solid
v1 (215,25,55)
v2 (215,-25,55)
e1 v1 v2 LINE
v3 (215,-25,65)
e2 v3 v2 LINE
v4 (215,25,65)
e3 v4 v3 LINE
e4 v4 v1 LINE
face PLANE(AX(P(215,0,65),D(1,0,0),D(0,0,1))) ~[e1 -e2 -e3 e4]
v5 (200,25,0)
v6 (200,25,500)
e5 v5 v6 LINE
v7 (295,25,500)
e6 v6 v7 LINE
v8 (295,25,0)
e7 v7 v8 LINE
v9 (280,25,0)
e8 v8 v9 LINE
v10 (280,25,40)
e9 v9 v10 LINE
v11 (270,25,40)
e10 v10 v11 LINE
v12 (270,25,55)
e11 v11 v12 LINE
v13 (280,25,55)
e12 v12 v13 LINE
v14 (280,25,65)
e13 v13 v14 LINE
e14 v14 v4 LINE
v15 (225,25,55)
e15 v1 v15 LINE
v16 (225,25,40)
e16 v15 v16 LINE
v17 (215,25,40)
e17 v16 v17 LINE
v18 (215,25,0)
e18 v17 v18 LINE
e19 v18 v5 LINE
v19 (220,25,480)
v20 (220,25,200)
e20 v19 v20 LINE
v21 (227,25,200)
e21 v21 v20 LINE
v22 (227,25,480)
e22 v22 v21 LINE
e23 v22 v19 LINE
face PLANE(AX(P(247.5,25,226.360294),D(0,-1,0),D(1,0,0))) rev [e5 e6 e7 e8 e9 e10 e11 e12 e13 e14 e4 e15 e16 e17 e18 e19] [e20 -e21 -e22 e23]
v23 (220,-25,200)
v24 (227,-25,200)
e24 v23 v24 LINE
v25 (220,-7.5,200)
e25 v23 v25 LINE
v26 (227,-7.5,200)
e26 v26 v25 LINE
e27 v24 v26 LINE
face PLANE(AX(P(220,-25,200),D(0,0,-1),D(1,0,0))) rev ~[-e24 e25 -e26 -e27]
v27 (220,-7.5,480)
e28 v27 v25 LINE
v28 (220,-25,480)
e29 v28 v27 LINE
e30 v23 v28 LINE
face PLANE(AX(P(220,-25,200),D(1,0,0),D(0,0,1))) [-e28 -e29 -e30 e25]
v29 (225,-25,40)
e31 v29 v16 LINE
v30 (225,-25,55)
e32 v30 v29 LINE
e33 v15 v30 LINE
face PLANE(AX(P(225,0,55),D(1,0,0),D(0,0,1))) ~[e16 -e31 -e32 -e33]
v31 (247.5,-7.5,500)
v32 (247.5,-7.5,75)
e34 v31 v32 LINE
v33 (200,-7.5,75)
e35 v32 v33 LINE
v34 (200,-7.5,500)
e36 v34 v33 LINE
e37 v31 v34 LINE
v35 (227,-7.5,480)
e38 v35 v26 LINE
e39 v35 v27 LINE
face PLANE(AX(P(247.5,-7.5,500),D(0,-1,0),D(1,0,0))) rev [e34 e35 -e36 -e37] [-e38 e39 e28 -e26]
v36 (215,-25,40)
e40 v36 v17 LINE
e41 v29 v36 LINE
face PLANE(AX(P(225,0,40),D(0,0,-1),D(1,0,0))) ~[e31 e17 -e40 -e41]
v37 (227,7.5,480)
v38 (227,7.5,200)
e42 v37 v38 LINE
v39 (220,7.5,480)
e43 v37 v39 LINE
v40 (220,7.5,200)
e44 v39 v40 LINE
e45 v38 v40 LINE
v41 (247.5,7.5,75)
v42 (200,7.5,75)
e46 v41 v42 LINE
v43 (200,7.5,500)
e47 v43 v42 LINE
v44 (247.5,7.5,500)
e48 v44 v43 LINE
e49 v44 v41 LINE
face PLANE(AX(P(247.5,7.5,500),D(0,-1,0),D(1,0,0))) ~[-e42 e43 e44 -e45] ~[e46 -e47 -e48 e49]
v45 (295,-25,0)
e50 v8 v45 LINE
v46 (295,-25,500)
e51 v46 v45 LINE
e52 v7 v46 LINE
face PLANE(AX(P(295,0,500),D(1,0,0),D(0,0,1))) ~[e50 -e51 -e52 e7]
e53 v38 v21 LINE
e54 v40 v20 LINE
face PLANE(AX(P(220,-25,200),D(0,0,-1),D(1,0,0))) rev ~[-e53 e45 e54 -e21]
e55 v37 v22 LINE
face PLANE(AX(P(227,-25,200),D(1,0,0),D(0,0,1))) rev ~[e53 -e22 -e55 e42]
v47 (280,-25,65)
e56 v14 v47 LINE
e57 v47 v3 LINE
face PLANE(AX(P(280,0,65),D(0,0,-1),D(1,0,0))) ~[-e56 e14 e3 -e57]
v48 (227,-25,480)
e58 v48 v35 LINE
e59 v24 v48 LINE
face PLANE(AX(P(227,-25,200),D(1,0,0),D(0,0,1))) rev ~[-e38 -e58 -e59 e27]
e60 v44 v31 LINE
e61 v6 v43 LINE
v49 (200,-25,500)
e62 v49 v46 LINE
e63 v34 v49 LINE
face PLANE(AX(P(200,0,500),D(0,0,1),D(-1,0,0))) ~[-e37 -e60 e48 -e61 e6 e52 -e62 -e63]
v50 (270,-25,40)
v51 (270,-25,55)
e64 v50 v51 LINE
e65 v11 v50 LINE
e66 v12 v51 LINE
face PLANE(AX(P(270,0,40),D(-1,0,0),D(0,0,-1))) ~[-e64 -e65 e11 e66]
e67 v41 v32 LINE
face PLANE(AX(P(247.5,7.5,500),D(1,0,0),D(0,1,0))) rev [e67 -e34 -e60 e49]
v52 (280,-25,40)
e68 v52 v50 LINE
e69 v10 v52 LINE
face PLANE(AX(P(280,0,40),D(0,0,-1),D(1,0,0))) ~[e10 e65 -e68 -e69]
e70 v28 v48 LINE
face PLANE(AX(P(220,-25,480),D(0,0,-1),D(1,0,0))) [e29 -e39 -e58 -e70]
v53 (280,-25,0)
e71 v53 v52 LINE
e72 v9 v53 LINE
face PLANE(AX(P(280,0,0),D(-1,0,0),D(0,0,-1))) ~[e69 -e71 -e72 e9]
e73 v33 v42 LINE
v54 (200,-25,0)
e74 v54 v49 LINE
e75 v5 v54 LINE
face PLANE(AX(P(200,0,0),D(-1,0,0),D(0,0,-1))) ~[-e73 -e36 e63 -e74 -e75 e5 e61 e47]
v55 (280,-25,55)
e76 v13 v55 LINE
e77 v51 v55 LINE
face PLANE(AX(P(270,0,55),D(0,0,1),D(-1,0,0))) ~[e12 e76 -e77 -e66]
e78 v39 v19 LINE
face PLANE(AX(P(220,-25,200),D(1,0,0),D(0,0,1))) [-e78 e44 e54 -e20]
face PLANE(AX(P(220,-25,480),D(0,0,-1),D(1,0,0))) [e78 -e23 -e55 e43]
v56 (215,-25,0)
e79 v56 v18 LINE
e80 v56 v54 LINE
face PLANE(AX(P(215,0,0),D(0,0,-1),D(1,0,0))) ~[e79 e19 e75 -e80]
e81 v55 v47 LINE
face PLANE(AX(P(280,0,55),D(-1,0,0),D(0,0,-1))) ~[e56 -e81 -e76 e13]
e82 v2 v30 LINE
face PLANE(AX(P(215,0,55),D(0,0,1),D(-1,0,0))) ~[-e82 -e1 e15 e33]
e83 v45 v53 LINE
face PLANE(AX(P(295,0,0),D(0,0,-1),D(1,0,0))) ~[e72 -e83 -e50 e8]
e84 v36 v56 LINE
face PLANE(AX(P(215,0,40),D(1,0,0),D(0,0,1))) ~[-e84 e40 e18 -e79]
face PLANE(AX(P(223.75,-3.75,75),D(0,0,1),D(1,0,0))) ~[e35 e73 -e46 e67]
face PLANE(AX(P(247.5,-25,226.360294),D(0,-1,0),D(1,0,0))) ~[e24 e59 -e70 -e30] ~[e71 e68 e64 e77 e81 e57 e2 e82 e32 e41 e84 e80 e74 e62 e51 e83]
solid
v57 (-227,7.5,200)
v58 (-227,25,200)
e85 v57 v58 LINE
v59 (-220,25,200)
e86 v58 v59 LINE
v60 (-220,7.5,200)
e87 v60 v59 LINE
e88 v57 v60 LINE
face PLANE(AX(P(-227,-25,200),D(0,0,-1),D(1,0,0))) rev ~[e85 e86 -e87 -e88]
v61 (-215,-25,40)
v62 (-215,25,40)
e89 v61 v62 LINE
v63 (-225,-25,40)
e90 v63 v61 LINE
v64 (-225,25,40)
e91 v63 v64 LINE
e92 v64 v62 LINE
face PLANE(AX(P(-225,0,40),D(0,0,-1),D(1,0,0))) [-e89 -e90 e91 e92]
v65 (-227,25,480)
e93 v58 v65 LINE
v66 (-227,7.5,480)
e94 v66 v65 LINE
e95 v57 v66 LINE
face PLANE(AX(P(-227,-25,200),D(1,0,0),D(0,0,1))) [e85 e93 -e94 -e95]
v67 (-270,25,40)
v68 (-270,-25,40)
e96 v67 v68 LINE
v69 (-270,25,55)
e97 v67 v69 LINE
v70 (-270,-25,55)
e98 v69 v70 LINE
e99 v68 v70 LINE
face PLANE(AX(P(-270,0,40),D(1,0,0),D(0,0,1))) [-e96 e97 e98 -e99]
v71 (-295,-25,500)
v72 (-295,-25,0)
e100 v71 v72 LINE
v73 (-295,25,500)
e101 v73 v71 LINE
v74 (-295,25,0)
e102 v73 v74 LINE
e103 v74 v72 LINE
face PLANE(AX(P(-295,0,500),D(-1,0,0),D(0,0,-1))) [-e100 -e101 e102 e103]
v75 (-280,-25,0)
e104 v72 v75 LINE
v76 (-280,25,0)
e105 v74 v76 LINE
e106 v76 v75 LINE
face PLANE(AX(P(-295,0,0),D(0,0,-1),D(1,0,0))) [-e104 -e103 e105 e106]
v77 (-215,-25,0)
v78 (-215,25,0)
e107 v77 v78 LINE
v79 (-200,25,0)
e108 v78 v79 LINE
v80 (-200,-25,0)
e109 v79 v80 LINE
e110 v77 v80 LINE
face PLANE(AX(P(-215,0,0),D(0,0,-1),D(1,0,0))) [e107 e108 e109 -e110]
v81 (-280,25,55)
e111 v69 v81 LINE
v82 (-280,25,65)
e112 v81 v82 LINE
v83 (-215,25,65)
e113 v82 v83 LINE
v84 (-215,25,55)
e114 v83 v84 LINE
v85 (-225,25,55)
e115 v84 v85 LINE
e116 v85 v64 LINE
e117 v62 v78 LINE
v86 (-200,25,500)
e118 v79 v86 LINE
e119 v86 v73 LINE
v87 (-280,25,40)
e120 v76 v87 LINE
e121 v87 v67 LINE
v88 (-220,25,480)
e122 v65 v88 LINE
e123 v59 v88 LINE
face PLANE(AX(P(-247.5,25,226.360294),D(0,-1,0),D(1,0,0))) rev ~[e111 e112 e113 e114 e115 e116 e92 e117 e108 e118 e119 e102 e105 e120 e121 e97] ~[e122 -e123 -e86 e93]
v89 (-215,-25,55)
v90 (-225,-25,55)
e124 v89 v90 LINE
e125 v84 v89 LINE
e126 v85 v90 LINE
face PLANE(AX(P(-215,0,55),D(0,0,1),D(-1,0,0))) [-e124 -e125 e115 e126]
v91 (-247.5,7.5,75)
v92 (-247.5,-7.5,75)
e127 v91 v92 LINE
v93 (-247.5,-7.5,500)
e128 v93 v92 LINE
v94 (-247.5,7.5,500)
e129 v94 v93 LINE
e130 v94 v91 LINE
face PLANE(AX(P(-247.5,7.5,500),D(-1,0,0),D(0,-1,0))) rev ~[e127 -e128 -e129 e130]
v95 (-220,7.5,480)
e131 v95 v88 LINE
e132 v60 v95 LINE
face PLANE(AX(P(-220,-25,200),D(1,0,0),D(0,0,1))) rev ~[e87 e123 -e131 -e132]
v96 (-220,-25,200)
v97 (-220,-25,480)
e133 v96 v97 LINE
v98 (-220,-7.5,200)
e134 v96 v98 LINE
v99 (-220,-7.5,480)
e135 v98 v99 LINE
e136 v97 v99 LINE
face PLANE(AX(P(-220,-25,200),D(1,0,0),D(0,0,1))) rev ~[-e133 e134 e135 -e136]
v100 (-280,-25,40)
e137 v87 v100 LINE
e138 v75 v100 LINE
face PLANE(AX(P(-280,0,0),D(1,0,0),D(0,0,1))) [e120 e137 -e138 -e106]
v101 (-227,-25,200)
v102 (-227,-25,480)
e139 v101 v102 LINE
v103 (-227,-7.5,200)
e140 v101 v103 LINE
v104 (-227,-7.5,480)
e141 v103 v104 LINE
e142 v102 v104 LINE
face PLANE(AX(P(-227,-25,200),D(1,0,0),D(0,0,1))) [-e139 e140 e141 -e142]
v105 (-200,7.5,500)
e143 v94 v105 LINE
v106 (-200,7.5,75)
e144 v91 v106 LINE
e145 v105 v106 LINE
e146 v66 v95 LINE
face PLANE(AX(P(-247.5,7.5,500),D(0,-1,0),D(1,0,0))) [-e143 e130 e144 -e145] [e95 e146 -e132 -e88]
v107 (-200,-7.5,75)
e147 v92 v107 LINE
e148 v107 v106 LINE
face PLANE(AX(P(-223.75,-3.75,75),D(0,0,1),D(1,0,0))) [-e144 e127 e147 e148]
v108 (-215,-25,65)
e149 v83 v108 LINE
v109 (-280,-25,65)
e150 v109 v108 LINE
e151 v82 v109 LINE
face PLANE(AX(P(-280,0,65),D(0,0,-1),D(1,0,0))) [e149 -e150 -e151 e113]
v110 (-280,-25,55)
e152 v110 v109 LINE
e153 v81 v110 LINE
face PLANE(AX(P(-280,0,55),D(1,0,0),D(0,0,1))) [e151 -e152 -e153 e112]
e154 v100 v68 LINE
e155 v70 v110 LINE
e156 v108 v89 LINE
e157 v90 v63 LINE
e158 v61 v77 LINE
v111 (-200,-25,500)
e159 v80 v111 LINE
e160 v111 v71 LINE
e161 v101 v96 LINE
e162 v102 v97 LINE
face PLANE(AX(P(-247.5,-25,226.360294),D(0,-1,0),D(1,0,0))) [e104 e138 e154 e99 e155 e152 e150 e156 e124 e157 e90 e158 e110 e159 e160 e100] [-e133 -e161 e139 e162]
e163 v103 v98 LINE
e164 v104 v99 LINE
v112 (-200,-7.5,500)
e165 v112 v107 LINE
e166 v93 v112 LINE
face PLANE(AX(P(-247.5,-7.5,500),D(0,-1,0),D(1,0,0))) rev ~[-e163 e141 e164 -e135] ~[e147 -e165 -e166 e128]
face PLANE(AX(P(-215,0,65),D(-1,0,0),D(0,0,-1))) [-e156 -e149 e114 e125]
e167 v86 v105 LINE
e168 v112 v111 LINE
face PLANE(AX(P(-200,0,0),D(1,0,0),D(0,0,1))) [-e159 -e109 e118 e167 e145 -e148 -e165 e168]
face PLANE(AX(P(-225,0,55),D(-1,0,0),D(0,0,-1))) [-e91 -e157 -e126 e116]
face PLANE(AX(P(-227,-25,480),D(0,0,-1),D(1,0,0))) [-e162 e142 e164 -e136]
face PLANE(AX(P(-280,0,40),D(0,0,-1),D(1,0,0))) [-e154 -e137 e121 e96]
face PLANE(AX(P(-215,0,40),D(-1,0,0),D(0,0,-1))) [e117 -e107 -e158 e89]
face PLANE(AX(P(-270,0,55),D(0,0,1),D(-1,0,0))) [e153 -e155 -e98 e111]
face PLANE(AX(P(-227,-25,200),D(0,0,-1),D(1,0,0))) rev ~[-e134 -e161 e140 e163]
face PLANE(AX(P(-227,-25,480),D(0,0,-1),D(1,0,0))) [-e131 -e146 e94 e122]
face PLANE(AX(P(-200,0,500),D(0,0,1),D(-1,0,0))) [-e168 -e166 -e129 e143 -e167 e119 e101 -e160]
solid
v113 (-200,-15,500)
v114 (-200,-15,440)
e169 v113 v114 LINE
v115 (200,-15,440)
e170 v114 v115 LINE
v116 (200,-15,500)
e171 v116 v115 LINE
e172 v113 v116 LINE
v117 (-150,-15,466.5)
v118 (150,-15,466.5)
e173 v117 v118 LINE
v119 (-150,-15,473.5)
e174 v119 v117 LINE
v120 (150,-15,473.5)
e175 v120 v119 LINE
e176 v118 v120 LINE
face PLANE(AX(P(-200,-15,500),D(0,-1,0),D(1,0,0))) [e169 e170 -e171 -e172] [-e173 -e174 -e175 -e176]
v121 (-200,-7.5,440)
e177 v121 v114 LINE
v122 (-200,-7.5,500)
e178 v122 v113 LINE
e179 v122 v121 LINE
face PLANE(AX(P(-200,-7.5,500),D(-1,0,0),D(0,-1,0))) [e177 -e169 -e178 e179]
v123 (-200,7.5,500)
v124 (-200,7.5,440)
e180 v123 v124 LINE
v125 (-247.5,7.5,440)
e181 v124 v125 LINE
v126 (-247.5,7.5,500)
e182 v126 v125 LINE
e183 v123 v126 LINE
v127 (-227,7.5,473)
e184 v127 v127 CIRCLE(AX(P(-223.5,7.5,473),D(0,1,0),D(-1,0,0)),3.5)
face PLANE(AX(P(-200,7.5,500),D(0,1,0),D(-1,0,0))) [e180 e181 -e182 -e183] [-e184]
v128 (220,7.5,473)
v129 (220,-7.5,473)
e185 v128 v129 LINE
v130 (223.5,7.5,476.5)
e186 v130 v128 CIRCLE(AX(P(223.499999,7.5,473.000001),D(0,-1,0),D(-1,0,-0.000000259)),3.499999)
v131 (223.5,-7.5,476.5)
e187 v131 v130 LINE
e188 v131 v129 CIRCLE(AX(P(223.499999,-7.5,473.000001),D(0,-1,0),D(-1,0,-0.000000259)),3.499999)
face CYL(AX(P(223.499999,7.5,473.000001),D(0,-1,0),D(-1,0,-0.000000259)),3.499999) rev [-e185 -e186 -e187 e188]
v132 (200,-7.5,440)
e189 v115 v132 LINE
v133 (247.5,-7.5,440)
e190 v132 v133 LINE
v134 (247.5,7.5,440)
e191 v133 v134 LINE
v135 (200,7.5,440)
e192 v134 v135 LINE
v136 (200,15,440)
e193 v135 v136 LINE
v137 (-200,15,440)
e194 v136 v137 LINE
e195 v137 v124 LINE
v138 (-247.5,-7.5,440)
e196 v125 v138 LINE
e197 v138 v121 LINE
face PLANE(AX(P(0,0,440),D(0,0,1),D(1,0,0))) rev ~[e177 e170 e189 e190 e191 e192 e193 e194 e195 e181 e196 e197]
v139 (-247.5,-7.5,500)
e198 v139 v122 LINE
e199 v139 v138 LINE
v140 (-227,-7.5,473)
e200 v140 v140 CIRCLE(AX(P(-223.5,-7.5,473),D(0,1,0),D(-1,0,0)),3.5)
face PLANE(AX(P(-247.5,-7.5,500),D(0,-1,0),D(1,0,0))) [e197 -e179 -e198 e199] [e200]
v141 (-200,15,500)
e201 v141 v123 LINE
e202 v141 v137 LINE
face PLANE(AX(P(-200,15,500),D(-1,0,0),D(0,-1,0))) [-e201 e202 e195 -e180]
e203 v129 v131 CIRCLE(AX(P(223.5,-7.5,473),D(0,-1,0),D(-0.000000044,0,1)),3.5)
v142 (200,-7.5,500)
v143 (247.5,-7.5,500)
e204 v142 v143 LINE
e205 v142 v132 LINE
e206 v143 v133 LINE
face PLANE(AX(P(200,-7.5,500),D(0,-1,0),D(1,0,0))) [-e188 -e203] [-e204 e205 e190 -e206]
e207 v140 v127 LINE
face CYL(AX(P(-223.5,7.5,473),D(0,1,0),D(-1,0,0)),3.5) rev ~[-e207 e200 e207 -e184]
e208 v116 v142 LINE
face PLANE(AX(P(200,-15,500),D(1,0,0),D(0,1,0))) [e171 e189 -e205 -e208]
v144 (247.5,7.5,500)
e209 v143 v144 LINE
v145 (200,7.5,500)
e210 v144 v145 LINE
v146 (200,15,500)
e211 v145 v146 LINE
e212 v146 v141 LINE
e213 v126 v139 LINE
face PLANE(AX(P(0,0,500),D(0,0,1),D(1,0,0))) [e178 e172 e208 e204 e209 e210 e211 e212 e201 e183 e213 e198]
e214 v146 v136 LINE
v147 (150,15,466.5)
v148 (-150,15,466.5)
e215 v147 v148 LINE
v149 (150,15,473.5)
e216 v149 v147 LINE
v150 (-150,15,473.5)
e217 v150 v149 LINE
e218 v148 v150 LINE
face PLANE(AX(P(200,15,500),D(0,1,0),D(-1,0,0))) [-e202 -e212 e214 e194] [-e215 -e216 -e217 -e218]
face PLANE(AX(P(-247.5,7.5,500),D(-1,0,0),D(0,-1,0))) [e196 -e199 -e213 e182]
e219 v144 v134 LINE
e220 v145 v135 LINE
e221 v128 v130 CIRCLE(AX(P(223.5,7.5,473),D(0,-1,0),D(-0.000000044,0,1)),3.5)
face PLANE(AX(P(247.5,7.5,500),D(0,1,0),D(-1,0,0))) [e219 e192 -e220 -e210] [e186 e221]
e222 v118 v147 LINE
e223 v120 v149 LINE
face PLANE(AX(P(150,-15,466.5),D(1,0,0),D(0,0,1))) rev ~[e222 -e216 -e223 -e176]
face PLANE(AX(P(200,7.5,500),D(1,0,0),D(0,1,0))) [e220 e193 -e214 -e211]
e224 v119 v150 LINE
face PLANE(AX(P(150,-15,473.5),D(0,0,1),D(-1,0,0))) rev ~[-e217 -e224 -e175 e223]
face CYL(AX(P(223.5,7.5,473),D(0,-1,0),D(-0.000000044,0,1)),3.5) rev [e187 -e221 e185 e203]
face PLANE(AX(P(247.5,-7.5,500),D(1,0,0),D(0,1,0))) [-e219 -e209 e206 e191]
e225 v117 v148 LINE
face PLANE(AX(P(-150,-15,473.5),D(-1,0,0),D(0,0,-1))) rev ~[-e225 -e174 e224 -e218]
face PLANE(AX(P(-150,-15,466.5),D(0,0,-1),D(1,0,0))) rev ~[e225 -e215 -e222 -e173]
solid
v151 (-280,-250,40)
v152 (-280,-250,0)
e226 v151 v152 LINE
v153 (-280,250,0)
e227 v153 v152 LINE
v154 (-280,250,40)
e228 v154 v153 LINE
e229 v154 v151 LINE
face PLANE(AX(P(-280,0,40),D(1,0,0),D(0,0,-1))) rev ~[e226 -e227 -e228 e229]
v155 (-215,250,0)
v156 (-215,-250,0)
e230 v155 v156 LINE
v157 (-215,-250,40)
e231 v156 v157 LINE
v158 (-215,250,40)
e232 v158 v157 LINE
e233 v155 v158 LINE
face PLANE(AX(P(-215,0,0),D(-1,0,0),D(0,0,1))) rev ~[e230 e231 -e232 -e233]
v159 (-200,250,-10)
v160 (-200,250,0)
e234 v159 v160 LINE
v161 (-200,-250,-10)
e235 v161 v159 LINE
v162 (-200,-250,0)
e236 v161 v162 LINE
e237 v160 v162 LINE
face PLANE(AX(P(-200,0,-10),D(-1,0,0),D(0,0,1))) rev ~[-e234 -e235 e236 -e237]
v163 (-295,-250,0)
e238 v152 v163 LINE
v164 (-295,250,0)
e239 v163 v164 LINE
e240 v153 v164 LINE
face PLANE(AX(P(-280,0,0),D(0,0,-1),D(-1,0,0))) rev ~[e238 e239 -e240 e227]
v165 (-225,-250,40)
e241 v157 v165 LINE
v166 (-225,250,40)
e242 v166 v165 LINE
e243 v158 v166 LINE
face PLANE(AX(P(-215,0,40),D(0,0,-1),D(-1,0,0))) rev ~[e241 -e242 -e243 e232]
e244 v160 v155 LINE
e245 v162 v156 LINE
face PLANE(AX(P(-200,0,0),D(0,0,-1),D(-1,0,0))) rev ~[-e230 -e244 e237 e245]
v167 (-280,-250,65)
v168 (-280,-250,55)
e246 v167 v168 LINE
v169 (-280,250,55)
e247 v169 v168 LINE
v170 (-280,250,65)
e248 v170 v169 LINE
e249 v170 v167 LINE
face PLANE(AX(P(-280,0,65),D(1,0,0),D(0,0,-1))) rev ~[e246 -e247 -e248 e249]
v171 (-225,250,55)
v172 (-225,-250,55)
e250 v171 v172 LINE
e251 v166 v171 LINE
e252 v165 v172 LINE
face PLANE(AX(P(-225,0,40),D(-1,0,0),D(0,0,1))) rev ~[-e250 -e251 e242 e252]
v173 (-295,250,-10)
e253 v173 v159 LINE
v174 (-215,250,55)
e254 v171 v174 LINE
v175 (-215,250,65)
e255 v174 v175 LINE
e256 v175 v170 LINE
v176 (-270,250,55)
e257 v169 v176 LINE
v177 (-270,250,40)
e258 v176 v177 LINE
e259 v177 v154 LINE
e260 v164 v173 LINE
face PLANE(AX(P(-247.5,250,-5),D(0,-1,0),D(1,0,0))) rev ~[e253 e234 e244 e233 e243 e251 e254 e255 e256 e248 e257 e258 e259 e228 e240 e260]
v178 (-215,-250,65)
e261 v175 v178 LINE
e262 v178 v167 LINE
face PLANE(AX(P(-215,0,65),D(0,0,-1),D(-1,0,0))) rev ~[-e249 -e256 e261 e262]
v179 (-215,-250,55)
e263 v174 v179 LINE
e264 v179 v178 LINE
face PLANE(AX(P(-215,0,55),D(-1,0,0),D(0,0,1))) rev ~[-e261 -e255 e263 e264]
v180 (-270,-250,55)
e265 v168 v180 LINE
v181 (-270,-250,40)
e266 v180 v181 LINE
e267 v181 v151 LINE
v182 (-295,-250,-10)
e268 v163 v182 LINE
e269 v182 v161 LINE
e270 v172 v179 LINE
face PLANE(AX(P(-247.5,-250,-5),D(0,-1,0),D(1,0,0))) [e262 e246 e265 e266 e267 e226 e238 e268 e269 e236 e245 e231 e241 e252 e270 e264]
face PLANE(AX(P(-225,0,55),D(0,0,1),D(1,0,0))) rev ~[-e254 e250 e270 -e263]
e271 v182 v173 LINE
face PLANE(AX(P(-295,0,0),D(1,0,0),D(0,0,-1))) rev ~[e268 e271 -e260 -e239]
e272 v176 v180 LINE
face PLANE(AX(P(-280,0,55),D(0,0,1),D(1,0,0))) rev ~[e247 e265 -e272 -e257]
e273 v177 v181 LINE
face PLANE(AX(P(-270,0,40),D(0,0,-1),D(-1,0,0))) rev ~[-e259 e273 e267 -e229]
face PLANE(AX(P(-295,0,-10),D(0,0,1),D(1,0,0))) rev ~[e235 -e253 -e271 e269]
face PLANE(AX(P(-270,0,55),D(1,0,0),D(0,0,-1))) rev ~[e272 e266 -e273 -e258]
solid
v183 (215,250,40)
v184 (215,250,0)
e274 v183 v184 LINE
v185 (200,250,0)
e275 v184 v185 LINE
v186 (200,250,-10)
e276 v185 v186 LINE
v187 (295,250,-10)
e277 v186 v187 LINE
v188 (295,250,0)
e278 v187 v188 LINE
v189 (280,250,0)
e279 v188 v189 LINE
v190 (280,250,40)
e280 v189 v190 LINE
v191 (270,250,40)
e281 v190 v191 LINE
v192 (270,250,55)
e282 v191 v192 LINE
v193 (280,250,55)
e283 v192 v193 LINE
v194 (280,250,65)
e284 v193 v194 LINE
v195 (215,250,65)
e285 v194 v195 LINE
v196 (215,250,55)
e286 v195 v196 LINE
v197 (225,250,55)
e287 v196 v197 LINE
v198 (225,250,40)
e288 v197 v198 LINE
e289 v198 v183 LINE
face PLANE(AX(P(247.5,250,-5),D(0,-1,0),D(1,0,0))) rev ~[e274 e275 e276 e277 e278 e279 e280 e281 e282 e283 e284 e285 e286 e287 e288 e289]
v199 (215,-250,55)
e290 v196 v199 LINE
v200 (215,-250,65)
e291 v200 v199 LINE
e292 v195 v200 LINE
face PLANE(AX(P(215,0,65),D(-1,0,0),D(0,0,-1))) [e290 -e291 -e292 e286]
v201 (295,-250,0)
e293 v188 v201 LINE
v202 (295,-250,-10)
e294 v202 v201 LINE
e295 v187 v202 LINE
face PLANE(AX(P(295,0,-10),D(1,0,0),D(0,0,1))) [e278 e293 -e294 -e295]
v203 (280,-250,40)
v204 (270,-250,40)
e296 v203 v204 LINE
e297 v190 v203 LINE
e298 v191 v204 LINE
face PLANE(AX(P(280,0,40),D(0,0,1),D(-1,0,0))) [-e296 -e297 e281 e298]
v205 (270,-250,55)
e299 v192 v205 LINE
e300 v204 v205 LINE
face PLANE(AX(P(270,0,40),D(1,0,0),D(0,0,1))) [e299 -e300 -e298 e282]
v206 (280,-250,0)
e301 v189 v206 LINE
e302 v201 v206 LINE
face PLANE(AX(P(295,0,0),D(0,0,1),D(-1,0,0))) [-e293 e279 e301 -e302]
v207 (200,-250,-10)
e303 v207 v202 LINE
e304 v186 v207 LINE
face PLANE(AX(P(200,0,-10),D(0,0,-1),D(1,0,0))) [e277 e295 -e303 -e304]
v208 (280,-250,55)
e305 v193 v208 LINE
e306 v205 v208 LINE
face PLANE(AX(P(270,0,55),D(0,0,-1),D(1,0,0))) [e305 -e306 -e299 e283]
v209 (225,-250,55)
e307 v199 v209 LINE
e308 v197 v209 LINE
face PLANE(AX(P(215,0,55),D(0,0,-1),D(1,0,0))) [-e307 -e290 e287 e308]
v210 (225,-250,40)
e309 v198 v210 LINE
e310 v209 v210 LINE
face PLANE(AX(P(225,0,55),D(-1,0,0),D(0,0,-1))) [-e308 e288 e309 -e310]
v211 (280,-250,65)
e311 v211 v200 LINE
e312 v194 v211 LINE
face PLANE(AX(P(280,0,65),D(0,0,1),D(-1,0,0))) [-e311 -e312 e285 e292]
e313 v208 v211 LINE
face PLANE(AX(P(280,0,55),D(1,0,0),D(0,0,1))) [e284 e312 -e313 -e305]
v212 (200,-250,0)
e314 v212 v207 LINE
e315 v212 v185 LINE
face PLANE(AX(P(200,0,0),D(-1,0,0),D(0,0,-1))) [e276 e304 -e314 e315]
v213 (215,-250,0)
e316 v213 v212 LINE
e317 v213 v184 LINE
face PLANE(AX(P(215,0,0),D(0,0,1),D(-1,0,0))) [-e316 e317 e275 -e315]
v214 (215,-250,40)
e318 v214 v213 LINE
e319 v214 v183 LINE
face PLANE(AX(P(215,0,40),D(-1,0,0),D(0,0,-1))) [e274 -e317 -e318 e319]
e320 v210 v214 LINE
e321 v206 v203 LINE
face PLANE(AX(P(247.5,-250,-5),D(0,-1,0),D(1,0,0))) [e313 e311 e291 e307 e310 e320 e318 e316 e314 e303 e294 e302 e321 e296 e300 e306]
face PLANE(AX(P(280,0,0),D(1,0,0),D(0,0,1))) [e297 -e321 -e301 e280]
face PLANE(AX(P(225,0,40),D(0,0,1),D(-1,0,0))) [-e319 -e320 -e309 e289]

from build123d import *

# Parameters (mm, degrees)
F1_DEPTH  = 250
F3_DEPTH  = 25
F4_W      = 47.5
F4_H      = 7.5
F5_DEPTH  = 425
F7_W      = 7
F7_H      = 280
F8_DEPTH  = 110
F10_DEPTH = 60
F11_R     = 3.5
F12_DEPTH = 56
F14_DEPTH = 46


with BuildPart() as f1:
    # F0 (on Front) → F1 (new body, symmetric)
    with BuildSketch(Plane.XZ):
        Polygon((-200, -10), (-200, 0), (-215, 0), (-280, 0), (-295, 0), (-295, -10), (-280, -10), align=None)
        Polygon((215, 0), (200, 0), (200, -10), (280, -10), (295, -10), (295, 0), (280, 0), align=None)
        Polygon((-280, 0), (-215, 0), (-215, 40), (-225, 40), (-225, 55), (-215, 55), (-215, 65), (-280, 65), (-280, 55), (-270, 55), (-270, 40), (-280, 40), align=None)
        Polygon((215, 40), (215, 0), (280, 0), (280, 40), (270, 40), (270, 55), (280, 55), (280, 65), (215, 65), (215, 55), (225, 55), (225, 40), align=None)
    extrude(amount=F1_DEPTH, both=True)


with BuildPart() as f3:
    # F2 (on Front) → F3 (new body, symmetric)
    with BuildSketch(Plane.XZ):
        Polygon((-215, 0), (-200, 0), (-200, 500), (-295, 500), (-295, 0), (-280, 0), (-280, 40), (-270, 40), (-270, 55), (-280, 55), (-280, 65), (-215, 65), (-215, 55), (-225, 55), (-225, 40), (-215, 40), align=None)
    extrude(amount=F3_DEPTH, both=True)

    # F4 (on face) → F5 (cut)
    with BuildSketch(Plane.XY.offset(500)):
        with Locations((-223.75, -3.75)):
            Rectangle(F4_W, F4_H)
        with Locations((-223.75, 3.75)):
            Rectangle(F4_W, F4_H)
    extrude(amount=-F5_DEPTH, mode=Mode.SUBTRACT)


with BuildPart() as f6_1:
    # F6: instance of F3
    add(f3.part.mirror(Plane.YZ))


with BuildPart() as f8_tool:
    # F7 (on face) → F8 (new body)
    with BuildSketch(Plane.XZ.offset(25)):
        with Locations((-223.5, 340)):
            Rectangle(F7_W, F7_H)
        with Locations((223.5, 340)):
            Rectangle(F7_W, F7_H)
    extrude(amount=-F8_DEPTH)


with BuildPart() as f3_1:
    add(f3.part)

    # F8: cut by f8_tool
    add(f8_tool.part, mode=Mode.SUBTRACT)


with BuildPart() as f6_1_1:
    add(f6_1.part)

    # F8: cut by f8_tool
    add(f8_tool.part, mode=Mode.SUBTRACT)


with BuildPart() as f10:
    # F9 (on face) → F10 (new body)
    with BuildSketch(Plane.XY.offset(500)):
        Polygon((-200, -7.5), (-200, -15), (0, -15), (200, -15), (200, -7.5), (247.5, -7.5), (247.5, 7.5), (200, 7.5), (200, 15), (0, 15), (-200, 15), (-200, 7.5), (-247.5, 7.5), (-247.5, -7.5), align=None)
    extrude(amount=-F10_DEPTH)

    # F11 (on face) → F12 (cut, symmetric)
    with BuildSketch(Plane(origin=(0, 7.5, 0), x_dir=(-1, 0, 0), z_dir=(0, 1, 0))):
        with BuildLine():
            ThreePointArc((-220, 473), (-221.025126, 475.474874), (-223.5, 476.5))
            ThreePointArc((-223.5, 476.5), (-225.974874, 470.525126), (-220, 473))
        make_face()
        with Locations((223.5, 473)):
            Circle(F11_R)
    extrude(amount=F12_DEPTH, both=True, mode=Mode.SUBTRACT)

    # F13 (on face) → F14 (cut)
    with BuildSketch(Plane.XZ.offset(15)):
        Polygon((-150, 473.5), (-150, 470), (-150, 466.5), (0, 466.5), (150, 466.5), (150, 473.5), (0, 473.5), align=None)
    extrude(amount=-F14_DEPTH, mode=Mode.SUBTRACT)


solid = Compound([f1.part, f3_1.part, f6_1_1.part, f10.part])
